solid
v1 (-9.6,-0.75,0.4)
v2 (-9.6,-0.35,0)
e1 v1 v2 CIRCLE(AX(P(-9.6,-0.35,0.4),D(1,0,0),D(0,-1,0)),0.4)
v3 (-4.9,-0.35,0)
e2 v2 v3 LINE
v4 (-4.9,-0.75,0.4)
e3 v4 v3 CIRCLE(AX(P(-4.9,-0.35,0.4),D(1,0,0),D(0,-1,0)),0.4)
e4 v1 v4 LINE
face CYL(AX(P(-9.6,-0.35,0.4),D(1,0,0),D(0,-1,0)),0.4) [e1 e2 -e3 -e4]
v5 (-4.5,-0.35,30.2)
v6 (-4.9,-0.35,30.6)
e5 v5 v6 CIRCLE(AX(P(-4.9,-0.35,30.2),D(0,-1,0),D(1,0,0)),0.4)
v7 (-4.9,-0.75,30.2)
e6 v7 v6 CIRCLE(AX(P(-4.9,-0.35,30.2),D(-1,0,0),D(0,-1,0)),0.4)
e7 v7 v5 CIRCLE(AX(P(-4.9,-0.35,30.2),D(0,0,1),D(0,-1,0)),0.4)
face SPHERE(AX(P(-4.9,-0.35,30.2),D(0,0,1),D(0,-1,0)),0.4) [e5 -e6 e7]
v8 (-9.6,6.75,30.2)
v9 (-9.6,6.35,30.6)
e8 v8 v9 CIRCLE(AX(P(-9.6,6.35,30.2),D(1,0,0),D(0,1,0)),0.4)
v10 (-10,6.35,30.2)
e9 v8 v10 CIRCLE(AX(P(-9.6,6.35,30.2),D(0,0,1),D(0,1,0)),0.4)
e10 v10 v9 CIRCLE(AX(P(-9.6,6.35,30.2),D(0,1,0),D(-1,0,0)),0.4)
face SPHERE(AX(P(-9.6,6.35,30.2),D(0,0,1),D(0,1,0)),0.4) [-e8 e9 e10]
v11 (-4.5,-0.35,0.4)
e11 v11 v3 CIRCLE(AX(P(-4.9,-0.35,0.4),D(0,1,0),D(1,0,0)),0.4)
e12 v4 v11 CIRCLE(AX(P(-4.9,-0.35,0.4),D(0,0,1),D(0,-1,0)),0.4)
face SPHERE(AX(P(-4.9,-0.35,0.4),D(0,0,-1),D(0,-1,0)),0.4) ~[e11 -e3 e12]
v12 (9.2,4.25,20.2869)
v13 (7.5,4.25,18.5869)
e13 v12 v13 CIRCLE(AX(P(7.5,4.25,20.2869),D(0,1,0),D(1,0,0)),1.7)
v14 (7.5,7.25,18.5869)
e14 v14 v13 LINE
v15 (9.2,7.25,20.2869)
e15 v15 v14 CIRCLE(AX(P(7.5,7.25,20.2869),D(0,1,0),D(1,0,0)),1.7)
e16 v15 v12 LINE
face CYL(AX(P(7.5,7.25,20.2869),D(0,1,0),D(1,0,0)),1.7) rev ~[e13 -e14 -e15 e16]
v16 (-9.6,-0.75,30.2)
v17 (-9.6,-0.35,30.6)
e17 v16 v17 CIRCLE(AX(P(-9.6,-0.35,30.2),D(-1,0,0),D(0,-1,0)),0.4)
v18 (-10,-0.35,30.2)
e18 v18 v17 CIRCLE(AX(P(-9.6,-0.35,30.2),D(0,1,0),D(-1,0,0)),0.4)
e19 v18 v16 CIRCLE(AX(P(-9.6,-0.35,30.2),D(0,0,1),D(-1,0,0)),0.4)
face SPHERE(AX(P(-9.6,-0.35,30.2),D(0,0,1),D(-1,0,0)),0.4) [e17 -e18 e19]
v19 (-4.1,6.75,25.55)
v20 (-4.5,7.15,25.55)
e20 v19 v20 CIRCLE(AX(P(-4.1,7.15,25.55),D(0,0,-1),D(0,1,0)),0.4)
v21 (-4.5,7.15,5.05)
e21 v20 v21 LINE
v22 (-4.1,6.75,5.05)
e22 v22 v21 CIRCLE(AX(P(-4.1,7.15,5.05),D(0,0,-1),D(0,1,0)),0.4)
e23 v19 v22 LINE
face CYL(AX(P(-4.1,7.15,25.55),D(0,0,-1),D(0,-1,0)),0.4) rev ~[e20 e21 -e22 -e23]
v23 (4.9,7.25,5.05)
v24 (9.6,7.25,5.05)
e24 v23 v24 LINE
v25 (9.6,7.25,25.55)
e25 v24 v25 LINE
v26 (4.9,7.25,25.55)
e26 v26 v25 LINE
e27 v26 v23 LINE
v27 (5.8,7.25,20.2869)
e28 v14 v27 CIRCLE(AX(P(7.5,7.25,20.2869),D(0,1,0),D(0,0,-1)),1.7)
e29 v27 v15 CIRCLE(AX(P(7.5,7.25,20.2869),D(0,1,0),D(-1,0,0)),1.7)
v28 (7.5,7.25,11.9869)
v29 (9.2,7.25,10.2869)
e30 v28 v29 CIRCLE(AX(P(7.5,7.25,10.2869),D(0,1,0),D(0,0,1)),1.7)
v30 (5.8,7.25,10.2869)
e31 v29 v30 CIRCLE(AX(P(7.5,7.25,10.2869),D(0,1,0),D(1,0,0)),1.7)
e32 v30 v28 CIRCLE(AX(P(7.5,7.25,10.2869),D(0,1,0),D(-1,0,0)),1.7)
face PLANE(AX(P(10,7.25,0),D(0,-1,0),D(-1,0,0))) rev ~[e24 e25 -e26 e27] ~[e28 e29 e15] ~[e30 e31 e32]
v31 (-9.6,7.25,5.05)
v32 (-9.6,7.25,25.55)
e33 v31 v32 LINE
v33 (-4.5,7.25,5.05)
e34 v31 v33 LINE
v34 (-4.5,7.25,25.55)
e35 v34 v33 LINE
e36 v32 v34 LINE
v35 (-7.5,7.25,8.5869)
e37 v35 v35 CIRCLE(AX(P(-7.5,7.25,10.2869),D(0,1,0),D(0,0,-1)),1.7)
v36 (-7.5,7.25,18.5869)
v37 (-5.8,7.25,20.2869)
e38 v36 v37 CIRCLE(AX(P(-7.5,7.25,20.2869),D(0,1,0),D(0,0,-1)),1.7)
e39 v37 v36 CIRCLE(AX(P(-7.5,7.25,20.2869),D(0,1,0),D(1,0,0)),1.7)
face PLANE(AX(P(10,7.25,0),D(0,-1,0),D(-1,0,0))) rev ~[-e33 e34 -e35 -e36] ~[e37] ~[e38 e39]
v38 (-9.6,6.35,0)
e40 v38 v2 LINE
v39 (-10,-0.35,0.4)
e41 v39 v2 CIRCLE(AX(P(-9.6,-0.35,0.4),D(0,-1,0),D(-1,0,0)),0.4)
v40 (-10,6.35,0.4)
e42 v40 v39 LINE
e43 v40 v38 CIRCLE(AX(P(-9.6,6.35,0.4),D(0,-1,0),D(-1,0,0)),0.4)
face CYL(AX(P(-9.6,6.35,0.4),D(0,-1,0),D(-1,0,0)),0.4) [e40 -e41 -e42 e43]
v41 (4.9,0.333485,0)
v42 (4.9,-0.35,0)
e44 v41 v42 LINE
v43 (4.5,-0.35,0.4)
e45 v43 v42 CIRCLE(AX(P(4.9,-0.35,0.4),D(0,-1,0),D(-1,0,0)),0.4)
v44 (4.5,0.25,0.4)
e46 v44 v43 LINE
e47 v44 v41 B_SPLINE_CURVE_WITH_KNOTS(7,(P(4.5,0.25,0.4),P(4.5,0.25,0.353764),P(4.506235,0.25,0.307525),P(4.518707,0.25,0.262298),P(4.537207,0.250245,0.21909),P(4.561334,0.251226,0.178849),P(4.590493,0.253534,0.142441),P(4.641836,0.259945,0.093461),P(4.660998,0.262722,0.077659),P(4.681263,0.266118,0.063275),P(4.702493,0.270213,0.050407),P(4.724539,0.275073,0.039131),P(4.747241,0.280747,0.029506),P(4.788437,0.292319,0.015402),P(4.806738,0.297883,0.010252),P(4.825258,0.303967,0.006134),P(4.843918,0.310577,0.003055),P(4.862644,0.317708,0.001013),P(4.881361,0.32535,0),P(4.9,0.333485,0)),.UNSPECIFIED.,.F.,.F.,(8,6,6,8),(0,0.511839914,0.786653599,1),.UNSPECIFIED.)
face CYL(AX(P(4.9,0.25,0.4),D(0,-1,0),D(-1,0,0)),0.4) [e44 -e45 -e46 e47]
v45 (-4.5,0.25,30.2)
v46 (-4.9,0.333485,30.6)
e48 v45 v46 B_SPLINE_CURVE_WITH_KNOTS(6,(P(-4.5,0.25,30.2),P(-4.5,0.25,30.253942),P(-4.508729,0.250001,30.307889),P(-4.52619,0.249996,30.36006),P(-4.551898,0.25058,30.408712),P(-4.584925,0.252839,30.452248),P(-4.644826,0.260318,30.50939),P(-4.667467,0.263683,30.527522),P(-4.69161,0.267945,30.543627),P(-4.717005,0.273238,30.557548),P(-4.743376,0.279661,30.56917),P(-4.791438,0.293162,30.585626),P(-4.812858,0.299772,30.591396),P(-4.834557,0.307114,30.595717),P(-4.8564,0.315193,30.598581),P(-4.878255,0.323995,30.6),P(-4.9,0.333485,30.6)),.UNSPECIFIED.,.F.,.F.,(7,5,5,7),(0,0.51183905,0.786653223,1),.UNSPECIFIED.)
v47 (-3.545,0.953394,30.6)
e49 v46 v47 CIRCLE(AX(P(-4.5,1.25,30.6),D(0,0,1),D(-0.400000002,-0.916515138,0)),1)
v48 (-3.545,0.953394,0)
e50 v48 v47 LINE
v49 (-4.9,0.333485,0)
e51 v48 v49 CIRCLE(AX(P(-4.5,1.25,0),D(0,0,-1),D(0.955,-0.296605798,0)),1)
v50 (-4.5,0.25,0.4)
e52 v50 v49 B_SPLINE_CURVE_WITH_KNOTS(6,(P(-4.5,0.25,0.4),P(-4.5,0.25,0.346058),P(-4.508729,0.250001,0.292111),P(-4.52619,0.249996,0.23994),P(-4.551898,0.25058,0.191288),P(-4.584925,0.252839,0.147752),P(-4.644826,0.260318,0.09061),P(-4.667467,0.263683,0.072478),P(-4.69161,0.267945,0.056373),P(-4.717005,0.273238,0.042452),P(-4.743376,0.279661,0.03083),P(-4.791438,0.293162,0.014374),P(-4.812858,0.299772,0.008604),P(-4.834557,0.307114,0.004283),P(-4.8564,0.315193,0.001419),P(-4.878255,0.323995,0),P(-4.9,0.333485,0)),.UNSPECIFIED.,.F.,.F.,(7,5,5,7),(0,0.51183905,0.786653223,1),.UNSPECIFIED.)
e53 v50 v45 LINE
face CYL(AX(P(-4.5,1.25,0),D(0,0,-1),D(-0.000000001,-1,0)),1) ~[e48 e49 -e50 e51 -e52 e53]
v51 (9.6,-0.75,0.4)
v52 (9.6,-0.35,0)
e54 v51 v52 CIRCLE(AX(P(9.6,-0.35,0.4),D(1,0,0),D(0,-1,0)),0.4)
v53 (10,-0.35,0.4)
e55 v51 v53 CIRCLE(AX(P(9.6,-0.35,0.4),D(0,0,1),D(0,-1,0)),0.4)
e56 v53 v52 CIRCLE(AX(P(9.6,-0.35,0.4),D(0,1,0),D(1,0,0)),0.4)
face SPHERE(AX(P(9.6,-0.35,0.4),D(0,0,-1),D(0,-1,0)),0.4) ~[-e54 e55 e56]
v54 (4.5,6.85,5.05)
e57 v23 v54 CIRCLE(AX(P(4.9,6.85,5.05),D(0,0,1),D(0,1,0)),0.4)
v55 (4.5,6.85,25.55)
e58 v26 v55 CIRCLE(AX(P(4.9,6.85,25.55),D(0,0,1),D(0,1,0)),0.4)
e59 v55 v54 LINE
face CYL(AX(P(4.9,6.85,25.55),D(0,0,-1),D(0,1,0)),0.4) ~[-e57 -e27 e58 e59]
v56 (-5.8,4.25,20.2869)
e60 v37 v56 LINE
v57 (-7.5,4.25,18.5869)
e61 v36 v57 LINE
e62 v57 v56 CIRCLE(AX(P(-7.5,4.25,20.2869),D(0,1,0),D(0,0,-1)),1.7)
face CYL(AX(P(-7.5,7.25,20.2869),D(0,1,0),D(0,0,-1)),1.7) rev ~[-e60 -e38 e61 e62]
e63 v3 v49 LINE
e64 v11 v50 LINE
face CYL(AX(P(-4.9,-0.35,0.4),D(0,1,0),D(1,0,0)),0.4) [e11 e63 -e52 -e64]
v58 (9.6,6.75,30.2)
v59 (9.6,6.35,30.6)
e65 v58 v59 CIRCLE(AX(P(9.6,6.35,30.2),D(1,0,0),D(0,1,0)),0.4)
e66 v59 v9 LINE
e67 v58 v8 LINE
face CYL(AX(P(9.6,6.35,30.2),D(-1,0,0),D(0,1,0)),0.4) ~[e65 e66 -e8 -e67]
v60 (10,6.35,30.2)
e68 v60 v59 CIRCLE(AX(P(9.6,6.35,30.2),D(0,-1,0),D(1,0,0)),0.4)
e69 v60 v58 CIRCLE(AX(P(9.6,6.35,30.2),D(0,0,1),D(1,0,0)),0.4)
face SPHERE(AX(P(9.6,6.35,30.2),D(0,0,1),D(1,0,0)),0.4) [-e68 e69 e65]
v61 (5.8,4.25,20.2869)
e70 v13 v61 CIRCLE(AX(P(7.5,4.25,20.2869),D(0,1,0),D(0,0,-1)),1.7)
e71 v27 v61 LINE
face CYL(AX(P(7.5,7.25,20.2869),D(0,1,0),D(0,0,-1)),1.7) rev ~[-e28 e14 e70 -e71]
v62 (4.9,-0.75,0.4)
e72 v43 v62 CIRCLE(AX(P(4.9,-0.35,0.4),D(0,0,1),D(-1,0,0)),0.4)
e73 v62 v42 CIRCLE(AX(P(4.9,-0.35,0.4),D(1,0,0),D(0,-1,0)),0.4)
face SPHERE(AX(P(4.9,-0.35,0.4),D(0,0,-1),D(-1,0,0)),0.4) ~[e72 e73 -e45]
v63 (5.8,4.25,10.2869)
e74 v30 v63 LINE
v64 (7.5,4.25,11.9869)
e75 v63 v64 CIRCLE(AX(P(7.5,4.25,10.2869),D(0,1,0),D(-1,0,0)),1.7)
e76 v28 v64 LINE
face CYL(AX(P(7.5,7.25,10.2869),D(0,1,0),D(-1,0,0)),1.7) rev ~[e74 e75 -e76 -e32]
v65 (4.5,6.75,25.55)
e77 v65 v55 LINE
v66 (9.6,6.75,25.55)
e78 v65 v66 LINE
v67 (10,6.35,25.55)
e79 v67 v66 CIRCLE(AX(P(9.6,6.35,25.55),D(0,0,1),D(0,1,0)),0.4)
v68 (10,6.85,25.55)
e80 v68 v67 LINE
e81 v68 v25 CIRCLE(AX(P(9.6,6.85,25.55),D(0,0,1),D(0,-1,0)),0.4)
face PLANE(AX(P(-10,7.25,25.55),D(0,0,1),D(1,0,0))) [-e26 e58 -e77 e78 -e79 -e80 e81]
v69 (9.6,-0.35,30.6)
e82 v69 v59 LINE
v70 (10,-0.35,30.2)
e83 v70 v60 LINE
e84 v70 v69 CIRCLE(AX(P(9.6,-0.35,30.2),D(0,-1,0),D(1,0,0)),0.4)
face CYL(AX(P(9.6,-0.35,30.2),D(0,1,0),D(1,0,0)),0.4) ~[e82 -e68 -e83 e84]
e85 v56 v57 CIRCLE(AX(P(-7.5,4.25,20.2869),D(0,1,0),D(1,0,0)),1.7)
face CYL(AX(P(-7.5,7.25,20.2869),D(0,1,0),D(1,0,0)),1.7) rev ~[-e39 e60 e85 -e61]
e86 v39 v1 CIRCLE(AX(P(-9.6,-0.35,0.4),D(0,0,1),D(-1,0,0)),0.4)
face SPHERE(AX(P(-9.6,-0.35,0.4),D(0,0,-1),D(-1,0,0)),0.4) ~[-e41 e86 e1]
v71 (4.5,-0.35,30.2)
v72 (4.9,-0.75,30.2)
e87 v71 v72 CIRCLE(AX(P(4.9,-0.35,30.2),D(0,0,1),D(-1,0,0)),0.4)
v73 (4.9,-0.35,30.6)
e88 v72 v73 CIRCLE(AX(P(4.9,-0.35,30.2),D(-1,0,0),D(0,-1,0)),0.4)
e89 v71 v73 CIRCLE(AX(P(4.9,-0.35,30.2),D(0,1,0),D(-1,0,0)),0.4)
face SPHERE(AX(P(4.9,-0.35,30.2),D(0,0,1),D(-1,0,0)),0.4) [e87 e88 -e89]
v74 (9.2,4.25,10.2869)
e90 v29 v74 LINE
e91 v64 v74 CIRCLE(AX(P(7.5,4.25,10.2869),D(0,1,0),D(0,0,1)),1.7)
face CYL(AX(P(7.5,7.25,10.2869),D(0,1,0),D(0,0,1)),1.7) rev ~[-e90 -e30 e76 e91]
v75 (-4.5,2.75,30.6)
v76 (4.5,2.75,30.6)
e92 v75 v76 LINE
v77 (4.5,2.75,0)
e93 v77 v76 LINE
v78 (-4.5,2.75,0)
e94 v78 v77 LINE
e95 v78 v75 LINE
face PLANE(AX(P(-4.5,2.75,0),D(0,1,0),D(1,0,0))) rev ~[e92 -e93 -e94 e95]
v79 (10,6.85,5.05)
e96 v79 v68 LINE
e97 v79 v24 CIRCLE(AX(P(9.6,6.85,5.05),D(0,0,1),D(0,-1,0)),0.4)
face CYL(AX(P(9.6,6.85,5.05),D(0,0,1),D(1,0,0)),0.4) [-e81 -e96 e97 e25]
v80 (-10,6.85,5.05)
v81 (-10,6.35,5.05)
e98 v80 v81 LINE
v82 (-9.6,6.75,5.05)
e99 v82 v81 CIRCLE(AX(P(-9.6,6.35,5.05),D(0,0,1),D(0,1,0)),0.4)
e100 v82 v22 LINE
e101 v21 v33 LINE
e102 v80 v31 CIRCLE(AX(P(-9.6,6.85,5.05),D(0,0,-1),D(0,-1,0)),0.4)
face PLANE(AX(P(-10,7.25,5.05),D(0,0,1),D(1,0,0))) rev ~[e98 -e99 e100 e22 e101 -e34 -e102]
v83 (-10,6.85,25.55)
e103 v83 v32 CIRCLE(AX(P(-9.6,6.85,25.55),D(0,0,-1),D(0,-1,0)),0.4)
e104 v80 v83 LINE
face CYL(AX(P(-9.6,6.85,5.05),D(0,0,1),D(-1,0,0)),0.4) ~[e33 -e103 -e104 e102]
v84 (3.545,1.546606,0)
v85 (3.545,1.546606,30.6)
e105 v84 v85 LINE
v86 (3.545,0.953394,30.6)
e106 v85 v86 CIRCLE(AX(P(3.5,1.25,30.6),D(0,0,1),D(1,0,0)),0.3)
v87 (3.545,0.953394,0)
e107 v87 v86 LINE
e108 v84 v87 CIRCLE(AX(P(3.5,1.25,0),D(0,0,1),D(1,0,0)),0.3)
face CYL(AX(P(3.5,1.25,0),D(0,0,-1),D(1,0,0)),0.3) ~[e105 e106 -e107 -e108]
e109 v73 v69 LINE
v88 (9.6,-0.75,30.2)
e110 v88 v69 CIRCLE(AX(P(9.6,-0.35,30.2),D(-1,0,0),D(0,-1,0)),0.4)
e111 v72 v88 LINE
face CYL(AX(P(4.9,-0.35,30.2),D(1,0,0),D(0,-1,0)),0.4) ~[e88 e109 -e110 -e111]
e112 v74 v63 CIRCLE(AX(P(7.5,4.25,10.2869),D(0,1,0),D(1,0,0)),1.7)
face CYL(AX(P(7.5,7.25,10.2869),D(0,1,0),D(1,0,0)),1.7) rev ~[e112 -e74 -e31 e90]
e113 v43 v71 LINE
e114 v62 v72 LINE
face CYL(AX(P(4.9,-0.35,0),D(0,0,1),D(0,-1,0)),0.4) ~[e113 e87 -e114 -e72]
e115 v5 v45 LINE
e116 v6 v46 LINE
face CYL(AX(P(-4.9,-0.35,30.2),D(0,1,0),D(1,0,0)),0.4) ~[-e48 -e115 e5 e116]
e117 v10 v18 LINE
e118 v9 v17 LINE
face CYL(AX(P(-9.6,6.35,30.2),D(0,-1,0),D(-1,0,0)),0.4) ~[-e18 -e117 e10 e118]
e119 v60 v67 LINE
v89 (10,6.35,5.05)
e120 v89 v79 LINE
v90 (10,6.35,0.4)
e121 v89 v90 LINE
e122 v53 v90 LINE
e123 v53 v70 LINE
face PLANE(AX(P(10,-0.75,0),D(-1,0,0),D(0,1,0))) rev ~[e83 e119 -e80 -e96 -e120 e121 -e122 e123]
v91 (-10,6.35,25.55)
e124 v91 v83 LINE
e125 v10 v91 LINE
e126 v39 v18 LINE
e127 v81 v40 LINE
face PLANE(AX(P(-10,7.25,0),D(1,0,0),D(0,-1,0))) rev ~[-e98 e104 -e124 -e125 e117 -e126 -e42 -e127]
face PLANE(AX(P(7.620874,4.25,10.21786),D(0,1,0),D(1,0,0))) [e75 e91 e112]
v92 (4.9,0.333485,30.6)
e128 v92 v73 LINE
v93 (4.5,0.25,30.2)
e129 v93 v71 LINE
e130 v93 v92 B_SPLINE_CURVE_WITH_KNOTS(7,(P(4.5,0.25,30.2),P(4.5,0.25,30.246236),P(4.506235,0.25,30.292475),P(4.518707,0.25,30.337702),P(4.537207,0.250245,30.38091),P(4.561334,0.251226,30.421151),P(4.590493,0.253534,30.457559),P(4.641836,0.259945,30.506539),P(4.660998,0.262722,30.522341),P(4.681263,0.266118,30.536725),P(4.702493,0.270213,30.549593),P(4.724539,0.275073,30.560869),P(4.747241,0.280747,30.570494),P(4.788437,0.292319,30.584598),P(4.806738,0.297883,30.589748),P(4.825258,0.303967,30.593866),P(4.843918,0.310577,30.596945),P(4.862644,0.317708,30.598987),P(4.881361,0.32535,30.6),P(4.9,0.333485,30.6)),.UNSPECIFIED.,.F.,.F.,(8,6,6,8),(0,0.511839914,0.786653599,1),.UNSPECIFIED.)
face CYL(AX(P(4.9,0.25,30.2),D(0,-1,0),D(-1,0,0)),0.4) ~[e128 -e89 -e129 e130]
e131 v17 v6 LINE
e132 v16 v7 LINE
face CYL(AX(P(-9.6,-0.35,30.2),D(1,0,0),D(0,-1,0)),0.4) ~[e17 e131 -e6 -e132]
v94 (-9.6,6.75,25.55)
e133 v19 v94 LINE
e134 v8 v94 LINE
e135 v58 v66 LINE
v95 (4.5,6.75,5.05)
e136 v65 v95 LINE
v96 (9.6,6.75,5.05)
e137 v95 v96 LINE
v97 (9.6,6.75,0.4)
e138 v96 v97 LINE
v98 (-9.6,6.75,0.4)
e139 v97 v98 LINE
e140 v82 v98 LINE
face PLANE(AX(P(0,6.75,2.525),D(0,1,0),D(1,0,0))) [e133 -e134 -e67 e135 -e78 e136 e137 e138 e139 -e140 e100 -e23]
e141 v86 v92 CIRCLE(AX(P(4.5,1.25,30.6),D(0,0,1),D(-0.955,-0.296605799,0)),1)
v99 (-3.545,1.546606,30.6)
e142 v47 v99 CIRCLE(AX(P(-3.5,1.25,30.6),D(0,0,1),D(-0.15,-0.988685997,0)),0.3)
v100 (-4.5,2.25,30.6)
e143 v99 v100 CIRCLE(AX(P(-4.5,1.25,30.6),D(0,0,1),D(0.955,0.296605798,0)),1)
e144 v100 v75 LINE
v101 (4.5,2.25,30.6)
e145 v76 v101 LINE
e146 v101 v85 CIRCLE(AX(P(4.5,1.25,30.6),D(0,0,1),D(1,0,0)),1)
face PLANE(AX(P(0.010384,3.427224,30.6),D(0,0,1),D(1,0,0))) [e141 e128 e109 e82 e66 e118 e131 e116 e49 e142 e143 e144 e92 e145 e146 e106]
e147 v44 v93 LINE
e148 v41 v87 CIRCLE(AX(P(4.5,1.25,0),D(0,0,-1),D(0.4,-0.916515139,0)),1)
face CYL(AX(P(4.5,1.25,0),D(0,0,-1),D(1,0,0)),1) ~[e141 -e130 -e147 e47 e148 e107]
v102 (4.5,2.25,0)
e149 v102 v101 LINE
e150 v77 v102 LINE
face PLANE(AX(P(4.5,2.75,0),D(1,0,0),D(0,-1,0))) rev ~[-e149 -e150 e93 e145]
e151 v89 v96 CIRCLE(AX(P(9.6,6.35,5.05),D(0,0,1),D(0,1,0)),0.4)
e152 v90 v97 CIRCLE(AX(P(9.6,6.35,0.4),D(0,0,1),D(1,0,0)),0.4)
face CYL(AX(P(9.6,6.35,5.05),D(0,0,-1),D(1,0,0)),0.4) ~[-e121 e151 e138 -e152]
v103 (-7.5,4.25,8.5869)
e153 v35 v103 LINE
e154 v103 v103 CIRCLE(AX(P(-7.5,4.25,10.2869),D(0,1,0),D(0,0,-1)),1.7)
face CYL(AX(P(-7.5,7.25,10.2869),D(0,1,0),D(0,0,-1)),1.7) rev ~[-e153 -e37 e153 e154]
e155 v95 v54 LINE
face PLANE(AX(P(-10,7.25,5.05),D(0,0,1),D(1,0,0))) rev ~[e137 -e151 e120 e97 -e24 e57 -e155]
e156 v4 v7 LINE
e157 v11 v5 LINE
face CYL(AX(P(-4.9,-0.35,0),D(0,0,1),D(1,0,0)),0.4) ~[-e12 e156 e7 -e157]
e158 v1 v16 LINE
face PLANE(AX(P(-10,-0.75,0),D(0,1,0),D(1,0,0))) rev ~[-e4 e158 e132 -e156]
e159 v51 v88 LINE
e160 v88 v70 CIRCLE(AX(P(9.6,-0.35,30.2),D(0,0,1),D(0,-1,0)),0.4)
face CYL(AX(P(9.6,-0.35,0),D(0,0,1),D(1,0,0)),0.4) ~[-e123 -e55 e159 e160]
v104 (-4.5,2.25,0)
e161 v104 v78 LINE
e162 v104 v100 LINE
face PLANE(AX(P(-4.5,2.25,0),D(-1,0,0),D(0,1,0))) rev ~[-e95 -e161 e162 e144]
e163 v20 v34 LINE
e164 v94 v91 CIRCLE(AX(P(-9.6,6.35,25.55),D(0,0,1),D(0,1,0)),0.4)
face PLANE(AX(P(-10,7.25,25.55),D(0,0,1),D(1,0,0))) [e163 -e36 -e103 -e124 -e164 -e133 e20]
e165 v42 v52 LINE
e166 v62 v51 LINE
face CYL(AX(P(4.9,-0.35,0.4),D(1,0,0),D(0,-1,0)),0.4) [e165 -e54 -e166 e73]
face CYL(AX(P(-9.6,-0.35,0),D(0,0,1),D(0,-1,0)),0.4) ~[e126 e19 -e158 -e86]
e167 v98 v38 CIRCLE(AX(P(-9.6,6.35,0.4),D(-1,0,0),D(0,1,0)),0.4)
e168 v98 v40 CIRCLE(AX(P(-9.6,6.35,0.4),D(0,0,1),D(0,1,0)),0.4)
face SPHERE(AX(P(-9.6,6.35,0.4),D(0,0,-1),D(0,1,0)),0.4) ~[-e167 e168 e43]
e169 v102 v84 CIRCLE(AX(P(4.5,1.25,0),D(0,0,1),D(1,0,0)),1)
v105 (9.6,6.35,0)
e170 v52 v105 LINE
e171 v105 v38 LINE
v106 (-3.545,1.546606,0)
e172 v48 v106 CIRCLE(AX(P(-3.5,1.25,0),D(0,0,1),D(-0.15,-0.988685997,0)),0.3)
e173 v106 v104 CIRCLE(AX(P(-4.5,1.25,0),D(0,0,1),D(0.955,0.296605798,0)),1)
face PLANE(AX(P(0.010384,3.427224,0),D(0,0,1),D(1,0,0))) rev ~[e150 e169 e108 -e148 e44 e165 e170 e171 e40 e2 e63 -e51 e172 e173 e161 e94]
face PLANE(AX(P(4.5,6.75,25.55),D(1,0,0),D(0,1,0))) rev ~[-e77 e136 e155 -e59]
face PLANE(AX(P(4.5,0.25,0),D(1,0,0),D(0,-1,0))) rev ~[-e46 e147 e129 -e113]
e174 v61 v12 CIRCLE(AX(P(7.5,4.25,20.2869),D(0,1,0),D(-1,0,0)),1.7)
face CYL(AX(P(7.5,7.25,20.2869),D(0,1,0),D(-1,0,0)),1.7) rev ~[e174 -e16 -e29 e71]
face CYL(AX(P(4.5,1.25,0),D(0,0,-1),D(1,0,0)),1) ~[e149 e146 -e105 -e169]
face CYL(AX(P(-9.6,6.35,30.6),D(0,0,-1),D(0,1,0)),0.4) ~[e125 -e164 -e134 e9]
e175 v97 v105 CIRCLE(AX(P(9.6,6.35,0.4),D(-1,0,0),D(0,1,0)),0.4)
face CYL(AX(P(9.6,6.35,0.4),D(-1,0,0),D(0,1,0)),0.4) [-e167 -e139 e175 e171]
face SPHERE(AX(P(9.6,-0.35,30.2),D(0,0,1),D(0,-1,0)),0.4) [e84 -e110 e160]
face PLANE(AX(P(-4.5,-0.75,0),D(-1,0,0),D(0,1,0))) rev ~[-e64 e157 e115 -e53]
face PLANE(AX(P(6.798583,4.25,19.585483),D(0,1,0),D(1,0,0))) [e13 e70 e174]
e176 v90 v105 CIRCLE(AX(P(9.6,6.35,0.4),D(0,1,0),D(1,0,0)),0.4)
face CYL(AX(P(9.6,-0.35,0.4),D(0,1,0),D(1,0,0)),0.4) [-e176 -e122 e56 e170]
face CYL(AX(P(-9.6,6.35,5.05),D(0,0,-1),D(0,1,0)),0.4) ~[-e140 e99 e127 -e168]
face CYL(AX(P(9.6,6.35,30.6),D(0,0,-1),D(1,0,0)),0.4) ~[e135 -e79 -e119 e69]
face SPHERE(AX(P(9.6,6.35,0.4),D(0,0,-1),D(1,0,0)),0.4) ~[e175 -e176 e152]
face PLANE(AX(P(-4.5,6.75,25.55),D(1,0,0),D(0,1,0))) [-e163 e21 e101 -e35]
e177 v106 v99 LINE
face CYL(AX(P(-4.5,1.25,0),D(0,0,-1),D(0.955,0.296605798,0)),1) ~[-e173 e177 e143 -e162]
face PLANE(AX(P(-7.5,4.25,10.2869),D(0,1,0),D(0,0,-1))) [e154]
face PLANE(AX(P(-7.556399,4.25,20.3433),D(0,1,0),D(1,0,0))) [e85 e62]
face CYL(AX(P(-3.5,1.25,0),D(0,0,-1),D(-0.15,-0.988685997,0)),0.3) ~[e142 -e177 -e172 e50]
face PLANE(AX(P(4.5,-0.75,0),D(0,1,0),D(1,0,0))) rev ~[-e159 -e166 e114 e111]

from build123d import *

# Parameters (mm, degrees)
SKETCH1_R           = 1
SKETCH1_R_2         = 0.3
BOSS_EXTRUDE1_DEPTH = 30.6
SKETCH2_W           = 20
SKETCH2_H           = 5.05
CUT_EXTRUDE1_DEPTH  = 0.5
SKETCH4_W           = 4.5
SKETCH4_H           = 0.5
CUT_EXTRUDE2_DEPTH  = 21.5
SKETCH5_R           = 1.7
CUT_EXTRUDE3_DEPTH  = 3
FILLET1_R           = 0.4
FILLET2_R           = 0.4


with BuildPart() as part:
    # Sketch1 → Boss-Extrude1 (new body)
    with BuildSketch(Plane.XY):
        with BuildLine():
            Line((-4.5, 2.25), (-4.5, 2.75))
            Line((-4.5, 2.75), (4.5, 2.75))
            Line((4.5, 2.75), (4.5, 2.25))
            ThreePointArc((4.5, 2.25), (5.207106781, 1.957106781), (5.5, 1.25))
            ThreePointArc((5.5, 1.25), (5.207106781, 0.542893219), (4.5, 0.25))
            Line((4.5, 0.25), (4.5, -0.75))
            Line((4.5, -0.75), (10, -0.75))
            Line((10, -0.75), (10, 7.25))
            Line((10, 7.25), (-10, 7.25))
            Line((-10, 7.25), (-10, -0.75))
            Line((-10, -0.75), (-4.5, -0.75))
            Line((-4.5, -0.75), (-4.5, 0.25))
            ThreePointArc((-4.5, 0.25), (-5.5, 1.25), (-4.5, 2.25))
        make_face()
        with BuildLine():
            Line((-4.5, 1.25), (-4.5, 2.25))
            ThreePointArc((-4.5, 2.25), (-5.5, 1.25), (-4.5, 0.25))
            Line((-4.5, 0.25), (-4.5, 1.25))
        make_face()
        with BuildLine():
            ThreePointArc((-3.545, 1.546605799), (-3.906959444, 2.05517259), (-4.5, 2.25))
            Line((-4.5, 2.25), (-4.5, 1.25))
            Line((-4.5, 1.25), (-4.5, 0.25))
            ThreePointArc((-4.5, 0.25), (-3.906959444, 0.44482741), (-3.545, 0.953394201))
            ThreePointArc((-3.545, 0.953394201), (-3.8, 1.25), (-3.545, 1.546605799))
        make_face()
        with Locations((-4.5, 1.25)):
            Circle(SKETCH1_R)
        with Locations((-3.5, 1.25)):
            Circle(SKETCH1_R_2)
        with Locations((3.5, 1.25)):
            Circle(SKETCH1_R_2)
        with Locations((4.5, 1.25)):
            Circle(SKETCH1_R)
        with BuildLine():
            Line((4.5, 0.25), (4.5, 2.25))
            ThreePointArc((4.5, 2.25), (3.906959444, 2.05517259), (3.545, 1.546605799))
            ThreePointArc((3.545, 1.546605799), (3.727486263, 1.445576072), (3.8, 1.25))
            ThreePointArc((3.8, 1.25), (3.727486263, 1.054423928), (3.545, 0.953394201))
            ThreePointArc((3.545, 0.953394201), (3.906959444, 0.44482741), (4.5, 0.25))
        make_face()
        with BuildLine():
            ThreePointArc((5.5, 1.25), (5.207106781, 1.957106781), (4.5, 2.25))
            Line((4.5, 2.25), (4.5, 0.25))
            ThreePointArc((4.5, 0.25), (5.207106781, 0.542893219), (5.5, 1.25))
        make_face()
    extrude(amount=BOSS_EXTRUDE1_DEPTH)

    # Sketch2 → Cut-Extrude1 (cut)
    with BuildSketch(Plane(origin=(0, 7.25, 0), x_dir=(1, 0, 0), z_dir=(0, 1, 0))):
        with Locations((0, -2.525)):
            Rectangle(SKETCH2_W, SKETCH2_H)
        with Locations((0, -28.075)):
            Rectangle(SKETCH2_W, SKETCH2_H)
    extrude(amount=-CUT_EXTRUDE1_DEPTH, mode=Mode.SUBTRACT)

    # Sketch4 → Cut-Extrude2 (cut)
    with BuildSketch(Plane.XY.offset(25.55)):
        with Locations((-2.25, 7)):
            Rectangle(SKETCH4_W, SKETCH4_H)
        with Locations((2.25, 7)):
            Rectangle(SKETCH4_W, SKETCH4_H)
    extrude(amount=-CUT_EXTRUDE2_DEPTH, mode=Mode.SUBTRACT)

    # Sketch5 → Cut-Extrude3 (cut)
    with BuildSketch(Plane(origin=(0, 7.25, 0), x_dir=(1, 0, 0), z_dir=(0, 1, 0))):
        with BuildLine():
            ThreePointArc((-7.5, -18.586900159), (-8.702081528, -21.488981687), (-5.8, -20.286900159))
            Line((-5.8, -20.286900159), (-7.5, -20.286900159))
            Line((-7.5, -20.286900159), (-7.5, -18.586900159))
        make_face()
        with BuildLine():
            Line((-7.5, -20.286900159), (-5.8, -20.286900159))
            ThreePointArc((-5.8, -20.286900159), (-6.297918472, -19.084818631), (-7.5, -18.586900159))
            Line((-7.5, -18.586900159), (-7.5, -20.286900159))
        make_face()
        with BuildLine():
            ThreePointArc((7.5, -18.586900159), (6.297918472, -19.084818631), (5.8, -20.286900159))
            Line((5.8, -20.286900159), (7.5, -20.286900159))
            Line((7.5, -20.286900159), (7.5, -18.586900159))
        make_face()
        with BuildLine():
            Line((7.5, -20.286900159), (5.8, -20.286900159))
            ThreePointArc((5.8, -20.286900159), (7.5, -21.986900159), (9.2, -20.286900159))
            ThreePointArc((9.2, -20.286900159), (8.702081528, -19.084818631), (7.5, -18.586900159))
            Line((7.5, -18.586900159), (7.5, -20.286900159))
        make_face()
        with BuildLine():
            ThreePointArc((9.2, -10.286900159), (7.5, -8.586900159), (5.8, -10.286900159))
            Line((5.8, -10.286900159), (7.5, -10.286900159))
            Line((7.5, -10.286900159), (7.5, -11.986900159))
            ThreePointArc((7.5, -11.986900159), (8.702081528, -11.488981687), (9.2, -10.286900159))
        make_face()
        with BuildLine():
            Line((7.5, -10.286900159), (5.8, -10.286900159))
            ThreePointArc((5.8, -10.286900159), (6.297918472, -11.488981687), (7.5, -11.986900159))
            Line((7.5, -11.986900159), (7.5, -10.286900159))
        make_face()
        with Locations(Location((-7.5, -10.286900159, 0), (0, 0, 90))):
            Circle(SKETCH5_R)
    extrude(amount=-CUT_EXTRUDE3_DEPTH, mode=Mode.SUBTRACT)

    # Fillet1
    fillet1_edges = [part.edges().sort_by_distance(p)[0] for p in [
        (-4.5, -0.75, 15.3),
        (-10, -0.75, 15.3),
        (10, -0.75, 15.3),
        (4.5, -0.75, 15.3),
        (-10, 7.25, 15.3),
        (10, 7.25, 15.3),
        (-10, 6.75, 2.525),
        (10, 6.75, 2.525),
        (10, 6.75, 28.075),
        (-10, 6.75, 28.075),
        (-4.5, 6.75, 15.3),
        (4.5, 7.25, 15.3),
    ]]
    fillet(fillet1_edges, radius=FILLET1_R)

    # Fillet2
    fillet2_edges = [part.edges().sort_by_distance(p)[0] for p in [
        (7.25, -0.75, 0),
        (7.25, -0.75, 30.6),
        (0, 6.75, 0),
        (10, 3, 0),
        (4.5, -0.05, 0),
        (-4.5, -0.05, 0),
        (-7.25, -0.75, 0),
        (-10, 3, 0),
        (-9.882842712, 6.632842712, 0),
        (9.882842712, 6.632842712, 0),
        (-9.882842712, -0.632842712, 0),
        (-4.617157288, -0.632842712, 0),
        (9.882842712, -0.632842712, 0),
        (4.617157288, -0.632842712, 0),
        (4.5, -0.05, 30.6),
        (10, 3, 30.6),
        (0, 6.75, 30.6),
        (-10, 3, 30.6),
        (-7.25, -0.75, 30.6),
        (-4.5, -0.05, 30.6),
        (-9.882842712, 6.632842712, 30.6),
        (9.882842712, 6.632842712, 30.6),
        (-9.882842712, -0.632842712, 30.6),
        (-4.617157288, -0.632842712, 30.6),
        (9.882842712, -0.632842712, 30.6),
        (4.617157288, -0.632842712, 30.6),
    ]]
    fillet(fillet2_edges, radius=FILLET2_R)


solid = part.part
